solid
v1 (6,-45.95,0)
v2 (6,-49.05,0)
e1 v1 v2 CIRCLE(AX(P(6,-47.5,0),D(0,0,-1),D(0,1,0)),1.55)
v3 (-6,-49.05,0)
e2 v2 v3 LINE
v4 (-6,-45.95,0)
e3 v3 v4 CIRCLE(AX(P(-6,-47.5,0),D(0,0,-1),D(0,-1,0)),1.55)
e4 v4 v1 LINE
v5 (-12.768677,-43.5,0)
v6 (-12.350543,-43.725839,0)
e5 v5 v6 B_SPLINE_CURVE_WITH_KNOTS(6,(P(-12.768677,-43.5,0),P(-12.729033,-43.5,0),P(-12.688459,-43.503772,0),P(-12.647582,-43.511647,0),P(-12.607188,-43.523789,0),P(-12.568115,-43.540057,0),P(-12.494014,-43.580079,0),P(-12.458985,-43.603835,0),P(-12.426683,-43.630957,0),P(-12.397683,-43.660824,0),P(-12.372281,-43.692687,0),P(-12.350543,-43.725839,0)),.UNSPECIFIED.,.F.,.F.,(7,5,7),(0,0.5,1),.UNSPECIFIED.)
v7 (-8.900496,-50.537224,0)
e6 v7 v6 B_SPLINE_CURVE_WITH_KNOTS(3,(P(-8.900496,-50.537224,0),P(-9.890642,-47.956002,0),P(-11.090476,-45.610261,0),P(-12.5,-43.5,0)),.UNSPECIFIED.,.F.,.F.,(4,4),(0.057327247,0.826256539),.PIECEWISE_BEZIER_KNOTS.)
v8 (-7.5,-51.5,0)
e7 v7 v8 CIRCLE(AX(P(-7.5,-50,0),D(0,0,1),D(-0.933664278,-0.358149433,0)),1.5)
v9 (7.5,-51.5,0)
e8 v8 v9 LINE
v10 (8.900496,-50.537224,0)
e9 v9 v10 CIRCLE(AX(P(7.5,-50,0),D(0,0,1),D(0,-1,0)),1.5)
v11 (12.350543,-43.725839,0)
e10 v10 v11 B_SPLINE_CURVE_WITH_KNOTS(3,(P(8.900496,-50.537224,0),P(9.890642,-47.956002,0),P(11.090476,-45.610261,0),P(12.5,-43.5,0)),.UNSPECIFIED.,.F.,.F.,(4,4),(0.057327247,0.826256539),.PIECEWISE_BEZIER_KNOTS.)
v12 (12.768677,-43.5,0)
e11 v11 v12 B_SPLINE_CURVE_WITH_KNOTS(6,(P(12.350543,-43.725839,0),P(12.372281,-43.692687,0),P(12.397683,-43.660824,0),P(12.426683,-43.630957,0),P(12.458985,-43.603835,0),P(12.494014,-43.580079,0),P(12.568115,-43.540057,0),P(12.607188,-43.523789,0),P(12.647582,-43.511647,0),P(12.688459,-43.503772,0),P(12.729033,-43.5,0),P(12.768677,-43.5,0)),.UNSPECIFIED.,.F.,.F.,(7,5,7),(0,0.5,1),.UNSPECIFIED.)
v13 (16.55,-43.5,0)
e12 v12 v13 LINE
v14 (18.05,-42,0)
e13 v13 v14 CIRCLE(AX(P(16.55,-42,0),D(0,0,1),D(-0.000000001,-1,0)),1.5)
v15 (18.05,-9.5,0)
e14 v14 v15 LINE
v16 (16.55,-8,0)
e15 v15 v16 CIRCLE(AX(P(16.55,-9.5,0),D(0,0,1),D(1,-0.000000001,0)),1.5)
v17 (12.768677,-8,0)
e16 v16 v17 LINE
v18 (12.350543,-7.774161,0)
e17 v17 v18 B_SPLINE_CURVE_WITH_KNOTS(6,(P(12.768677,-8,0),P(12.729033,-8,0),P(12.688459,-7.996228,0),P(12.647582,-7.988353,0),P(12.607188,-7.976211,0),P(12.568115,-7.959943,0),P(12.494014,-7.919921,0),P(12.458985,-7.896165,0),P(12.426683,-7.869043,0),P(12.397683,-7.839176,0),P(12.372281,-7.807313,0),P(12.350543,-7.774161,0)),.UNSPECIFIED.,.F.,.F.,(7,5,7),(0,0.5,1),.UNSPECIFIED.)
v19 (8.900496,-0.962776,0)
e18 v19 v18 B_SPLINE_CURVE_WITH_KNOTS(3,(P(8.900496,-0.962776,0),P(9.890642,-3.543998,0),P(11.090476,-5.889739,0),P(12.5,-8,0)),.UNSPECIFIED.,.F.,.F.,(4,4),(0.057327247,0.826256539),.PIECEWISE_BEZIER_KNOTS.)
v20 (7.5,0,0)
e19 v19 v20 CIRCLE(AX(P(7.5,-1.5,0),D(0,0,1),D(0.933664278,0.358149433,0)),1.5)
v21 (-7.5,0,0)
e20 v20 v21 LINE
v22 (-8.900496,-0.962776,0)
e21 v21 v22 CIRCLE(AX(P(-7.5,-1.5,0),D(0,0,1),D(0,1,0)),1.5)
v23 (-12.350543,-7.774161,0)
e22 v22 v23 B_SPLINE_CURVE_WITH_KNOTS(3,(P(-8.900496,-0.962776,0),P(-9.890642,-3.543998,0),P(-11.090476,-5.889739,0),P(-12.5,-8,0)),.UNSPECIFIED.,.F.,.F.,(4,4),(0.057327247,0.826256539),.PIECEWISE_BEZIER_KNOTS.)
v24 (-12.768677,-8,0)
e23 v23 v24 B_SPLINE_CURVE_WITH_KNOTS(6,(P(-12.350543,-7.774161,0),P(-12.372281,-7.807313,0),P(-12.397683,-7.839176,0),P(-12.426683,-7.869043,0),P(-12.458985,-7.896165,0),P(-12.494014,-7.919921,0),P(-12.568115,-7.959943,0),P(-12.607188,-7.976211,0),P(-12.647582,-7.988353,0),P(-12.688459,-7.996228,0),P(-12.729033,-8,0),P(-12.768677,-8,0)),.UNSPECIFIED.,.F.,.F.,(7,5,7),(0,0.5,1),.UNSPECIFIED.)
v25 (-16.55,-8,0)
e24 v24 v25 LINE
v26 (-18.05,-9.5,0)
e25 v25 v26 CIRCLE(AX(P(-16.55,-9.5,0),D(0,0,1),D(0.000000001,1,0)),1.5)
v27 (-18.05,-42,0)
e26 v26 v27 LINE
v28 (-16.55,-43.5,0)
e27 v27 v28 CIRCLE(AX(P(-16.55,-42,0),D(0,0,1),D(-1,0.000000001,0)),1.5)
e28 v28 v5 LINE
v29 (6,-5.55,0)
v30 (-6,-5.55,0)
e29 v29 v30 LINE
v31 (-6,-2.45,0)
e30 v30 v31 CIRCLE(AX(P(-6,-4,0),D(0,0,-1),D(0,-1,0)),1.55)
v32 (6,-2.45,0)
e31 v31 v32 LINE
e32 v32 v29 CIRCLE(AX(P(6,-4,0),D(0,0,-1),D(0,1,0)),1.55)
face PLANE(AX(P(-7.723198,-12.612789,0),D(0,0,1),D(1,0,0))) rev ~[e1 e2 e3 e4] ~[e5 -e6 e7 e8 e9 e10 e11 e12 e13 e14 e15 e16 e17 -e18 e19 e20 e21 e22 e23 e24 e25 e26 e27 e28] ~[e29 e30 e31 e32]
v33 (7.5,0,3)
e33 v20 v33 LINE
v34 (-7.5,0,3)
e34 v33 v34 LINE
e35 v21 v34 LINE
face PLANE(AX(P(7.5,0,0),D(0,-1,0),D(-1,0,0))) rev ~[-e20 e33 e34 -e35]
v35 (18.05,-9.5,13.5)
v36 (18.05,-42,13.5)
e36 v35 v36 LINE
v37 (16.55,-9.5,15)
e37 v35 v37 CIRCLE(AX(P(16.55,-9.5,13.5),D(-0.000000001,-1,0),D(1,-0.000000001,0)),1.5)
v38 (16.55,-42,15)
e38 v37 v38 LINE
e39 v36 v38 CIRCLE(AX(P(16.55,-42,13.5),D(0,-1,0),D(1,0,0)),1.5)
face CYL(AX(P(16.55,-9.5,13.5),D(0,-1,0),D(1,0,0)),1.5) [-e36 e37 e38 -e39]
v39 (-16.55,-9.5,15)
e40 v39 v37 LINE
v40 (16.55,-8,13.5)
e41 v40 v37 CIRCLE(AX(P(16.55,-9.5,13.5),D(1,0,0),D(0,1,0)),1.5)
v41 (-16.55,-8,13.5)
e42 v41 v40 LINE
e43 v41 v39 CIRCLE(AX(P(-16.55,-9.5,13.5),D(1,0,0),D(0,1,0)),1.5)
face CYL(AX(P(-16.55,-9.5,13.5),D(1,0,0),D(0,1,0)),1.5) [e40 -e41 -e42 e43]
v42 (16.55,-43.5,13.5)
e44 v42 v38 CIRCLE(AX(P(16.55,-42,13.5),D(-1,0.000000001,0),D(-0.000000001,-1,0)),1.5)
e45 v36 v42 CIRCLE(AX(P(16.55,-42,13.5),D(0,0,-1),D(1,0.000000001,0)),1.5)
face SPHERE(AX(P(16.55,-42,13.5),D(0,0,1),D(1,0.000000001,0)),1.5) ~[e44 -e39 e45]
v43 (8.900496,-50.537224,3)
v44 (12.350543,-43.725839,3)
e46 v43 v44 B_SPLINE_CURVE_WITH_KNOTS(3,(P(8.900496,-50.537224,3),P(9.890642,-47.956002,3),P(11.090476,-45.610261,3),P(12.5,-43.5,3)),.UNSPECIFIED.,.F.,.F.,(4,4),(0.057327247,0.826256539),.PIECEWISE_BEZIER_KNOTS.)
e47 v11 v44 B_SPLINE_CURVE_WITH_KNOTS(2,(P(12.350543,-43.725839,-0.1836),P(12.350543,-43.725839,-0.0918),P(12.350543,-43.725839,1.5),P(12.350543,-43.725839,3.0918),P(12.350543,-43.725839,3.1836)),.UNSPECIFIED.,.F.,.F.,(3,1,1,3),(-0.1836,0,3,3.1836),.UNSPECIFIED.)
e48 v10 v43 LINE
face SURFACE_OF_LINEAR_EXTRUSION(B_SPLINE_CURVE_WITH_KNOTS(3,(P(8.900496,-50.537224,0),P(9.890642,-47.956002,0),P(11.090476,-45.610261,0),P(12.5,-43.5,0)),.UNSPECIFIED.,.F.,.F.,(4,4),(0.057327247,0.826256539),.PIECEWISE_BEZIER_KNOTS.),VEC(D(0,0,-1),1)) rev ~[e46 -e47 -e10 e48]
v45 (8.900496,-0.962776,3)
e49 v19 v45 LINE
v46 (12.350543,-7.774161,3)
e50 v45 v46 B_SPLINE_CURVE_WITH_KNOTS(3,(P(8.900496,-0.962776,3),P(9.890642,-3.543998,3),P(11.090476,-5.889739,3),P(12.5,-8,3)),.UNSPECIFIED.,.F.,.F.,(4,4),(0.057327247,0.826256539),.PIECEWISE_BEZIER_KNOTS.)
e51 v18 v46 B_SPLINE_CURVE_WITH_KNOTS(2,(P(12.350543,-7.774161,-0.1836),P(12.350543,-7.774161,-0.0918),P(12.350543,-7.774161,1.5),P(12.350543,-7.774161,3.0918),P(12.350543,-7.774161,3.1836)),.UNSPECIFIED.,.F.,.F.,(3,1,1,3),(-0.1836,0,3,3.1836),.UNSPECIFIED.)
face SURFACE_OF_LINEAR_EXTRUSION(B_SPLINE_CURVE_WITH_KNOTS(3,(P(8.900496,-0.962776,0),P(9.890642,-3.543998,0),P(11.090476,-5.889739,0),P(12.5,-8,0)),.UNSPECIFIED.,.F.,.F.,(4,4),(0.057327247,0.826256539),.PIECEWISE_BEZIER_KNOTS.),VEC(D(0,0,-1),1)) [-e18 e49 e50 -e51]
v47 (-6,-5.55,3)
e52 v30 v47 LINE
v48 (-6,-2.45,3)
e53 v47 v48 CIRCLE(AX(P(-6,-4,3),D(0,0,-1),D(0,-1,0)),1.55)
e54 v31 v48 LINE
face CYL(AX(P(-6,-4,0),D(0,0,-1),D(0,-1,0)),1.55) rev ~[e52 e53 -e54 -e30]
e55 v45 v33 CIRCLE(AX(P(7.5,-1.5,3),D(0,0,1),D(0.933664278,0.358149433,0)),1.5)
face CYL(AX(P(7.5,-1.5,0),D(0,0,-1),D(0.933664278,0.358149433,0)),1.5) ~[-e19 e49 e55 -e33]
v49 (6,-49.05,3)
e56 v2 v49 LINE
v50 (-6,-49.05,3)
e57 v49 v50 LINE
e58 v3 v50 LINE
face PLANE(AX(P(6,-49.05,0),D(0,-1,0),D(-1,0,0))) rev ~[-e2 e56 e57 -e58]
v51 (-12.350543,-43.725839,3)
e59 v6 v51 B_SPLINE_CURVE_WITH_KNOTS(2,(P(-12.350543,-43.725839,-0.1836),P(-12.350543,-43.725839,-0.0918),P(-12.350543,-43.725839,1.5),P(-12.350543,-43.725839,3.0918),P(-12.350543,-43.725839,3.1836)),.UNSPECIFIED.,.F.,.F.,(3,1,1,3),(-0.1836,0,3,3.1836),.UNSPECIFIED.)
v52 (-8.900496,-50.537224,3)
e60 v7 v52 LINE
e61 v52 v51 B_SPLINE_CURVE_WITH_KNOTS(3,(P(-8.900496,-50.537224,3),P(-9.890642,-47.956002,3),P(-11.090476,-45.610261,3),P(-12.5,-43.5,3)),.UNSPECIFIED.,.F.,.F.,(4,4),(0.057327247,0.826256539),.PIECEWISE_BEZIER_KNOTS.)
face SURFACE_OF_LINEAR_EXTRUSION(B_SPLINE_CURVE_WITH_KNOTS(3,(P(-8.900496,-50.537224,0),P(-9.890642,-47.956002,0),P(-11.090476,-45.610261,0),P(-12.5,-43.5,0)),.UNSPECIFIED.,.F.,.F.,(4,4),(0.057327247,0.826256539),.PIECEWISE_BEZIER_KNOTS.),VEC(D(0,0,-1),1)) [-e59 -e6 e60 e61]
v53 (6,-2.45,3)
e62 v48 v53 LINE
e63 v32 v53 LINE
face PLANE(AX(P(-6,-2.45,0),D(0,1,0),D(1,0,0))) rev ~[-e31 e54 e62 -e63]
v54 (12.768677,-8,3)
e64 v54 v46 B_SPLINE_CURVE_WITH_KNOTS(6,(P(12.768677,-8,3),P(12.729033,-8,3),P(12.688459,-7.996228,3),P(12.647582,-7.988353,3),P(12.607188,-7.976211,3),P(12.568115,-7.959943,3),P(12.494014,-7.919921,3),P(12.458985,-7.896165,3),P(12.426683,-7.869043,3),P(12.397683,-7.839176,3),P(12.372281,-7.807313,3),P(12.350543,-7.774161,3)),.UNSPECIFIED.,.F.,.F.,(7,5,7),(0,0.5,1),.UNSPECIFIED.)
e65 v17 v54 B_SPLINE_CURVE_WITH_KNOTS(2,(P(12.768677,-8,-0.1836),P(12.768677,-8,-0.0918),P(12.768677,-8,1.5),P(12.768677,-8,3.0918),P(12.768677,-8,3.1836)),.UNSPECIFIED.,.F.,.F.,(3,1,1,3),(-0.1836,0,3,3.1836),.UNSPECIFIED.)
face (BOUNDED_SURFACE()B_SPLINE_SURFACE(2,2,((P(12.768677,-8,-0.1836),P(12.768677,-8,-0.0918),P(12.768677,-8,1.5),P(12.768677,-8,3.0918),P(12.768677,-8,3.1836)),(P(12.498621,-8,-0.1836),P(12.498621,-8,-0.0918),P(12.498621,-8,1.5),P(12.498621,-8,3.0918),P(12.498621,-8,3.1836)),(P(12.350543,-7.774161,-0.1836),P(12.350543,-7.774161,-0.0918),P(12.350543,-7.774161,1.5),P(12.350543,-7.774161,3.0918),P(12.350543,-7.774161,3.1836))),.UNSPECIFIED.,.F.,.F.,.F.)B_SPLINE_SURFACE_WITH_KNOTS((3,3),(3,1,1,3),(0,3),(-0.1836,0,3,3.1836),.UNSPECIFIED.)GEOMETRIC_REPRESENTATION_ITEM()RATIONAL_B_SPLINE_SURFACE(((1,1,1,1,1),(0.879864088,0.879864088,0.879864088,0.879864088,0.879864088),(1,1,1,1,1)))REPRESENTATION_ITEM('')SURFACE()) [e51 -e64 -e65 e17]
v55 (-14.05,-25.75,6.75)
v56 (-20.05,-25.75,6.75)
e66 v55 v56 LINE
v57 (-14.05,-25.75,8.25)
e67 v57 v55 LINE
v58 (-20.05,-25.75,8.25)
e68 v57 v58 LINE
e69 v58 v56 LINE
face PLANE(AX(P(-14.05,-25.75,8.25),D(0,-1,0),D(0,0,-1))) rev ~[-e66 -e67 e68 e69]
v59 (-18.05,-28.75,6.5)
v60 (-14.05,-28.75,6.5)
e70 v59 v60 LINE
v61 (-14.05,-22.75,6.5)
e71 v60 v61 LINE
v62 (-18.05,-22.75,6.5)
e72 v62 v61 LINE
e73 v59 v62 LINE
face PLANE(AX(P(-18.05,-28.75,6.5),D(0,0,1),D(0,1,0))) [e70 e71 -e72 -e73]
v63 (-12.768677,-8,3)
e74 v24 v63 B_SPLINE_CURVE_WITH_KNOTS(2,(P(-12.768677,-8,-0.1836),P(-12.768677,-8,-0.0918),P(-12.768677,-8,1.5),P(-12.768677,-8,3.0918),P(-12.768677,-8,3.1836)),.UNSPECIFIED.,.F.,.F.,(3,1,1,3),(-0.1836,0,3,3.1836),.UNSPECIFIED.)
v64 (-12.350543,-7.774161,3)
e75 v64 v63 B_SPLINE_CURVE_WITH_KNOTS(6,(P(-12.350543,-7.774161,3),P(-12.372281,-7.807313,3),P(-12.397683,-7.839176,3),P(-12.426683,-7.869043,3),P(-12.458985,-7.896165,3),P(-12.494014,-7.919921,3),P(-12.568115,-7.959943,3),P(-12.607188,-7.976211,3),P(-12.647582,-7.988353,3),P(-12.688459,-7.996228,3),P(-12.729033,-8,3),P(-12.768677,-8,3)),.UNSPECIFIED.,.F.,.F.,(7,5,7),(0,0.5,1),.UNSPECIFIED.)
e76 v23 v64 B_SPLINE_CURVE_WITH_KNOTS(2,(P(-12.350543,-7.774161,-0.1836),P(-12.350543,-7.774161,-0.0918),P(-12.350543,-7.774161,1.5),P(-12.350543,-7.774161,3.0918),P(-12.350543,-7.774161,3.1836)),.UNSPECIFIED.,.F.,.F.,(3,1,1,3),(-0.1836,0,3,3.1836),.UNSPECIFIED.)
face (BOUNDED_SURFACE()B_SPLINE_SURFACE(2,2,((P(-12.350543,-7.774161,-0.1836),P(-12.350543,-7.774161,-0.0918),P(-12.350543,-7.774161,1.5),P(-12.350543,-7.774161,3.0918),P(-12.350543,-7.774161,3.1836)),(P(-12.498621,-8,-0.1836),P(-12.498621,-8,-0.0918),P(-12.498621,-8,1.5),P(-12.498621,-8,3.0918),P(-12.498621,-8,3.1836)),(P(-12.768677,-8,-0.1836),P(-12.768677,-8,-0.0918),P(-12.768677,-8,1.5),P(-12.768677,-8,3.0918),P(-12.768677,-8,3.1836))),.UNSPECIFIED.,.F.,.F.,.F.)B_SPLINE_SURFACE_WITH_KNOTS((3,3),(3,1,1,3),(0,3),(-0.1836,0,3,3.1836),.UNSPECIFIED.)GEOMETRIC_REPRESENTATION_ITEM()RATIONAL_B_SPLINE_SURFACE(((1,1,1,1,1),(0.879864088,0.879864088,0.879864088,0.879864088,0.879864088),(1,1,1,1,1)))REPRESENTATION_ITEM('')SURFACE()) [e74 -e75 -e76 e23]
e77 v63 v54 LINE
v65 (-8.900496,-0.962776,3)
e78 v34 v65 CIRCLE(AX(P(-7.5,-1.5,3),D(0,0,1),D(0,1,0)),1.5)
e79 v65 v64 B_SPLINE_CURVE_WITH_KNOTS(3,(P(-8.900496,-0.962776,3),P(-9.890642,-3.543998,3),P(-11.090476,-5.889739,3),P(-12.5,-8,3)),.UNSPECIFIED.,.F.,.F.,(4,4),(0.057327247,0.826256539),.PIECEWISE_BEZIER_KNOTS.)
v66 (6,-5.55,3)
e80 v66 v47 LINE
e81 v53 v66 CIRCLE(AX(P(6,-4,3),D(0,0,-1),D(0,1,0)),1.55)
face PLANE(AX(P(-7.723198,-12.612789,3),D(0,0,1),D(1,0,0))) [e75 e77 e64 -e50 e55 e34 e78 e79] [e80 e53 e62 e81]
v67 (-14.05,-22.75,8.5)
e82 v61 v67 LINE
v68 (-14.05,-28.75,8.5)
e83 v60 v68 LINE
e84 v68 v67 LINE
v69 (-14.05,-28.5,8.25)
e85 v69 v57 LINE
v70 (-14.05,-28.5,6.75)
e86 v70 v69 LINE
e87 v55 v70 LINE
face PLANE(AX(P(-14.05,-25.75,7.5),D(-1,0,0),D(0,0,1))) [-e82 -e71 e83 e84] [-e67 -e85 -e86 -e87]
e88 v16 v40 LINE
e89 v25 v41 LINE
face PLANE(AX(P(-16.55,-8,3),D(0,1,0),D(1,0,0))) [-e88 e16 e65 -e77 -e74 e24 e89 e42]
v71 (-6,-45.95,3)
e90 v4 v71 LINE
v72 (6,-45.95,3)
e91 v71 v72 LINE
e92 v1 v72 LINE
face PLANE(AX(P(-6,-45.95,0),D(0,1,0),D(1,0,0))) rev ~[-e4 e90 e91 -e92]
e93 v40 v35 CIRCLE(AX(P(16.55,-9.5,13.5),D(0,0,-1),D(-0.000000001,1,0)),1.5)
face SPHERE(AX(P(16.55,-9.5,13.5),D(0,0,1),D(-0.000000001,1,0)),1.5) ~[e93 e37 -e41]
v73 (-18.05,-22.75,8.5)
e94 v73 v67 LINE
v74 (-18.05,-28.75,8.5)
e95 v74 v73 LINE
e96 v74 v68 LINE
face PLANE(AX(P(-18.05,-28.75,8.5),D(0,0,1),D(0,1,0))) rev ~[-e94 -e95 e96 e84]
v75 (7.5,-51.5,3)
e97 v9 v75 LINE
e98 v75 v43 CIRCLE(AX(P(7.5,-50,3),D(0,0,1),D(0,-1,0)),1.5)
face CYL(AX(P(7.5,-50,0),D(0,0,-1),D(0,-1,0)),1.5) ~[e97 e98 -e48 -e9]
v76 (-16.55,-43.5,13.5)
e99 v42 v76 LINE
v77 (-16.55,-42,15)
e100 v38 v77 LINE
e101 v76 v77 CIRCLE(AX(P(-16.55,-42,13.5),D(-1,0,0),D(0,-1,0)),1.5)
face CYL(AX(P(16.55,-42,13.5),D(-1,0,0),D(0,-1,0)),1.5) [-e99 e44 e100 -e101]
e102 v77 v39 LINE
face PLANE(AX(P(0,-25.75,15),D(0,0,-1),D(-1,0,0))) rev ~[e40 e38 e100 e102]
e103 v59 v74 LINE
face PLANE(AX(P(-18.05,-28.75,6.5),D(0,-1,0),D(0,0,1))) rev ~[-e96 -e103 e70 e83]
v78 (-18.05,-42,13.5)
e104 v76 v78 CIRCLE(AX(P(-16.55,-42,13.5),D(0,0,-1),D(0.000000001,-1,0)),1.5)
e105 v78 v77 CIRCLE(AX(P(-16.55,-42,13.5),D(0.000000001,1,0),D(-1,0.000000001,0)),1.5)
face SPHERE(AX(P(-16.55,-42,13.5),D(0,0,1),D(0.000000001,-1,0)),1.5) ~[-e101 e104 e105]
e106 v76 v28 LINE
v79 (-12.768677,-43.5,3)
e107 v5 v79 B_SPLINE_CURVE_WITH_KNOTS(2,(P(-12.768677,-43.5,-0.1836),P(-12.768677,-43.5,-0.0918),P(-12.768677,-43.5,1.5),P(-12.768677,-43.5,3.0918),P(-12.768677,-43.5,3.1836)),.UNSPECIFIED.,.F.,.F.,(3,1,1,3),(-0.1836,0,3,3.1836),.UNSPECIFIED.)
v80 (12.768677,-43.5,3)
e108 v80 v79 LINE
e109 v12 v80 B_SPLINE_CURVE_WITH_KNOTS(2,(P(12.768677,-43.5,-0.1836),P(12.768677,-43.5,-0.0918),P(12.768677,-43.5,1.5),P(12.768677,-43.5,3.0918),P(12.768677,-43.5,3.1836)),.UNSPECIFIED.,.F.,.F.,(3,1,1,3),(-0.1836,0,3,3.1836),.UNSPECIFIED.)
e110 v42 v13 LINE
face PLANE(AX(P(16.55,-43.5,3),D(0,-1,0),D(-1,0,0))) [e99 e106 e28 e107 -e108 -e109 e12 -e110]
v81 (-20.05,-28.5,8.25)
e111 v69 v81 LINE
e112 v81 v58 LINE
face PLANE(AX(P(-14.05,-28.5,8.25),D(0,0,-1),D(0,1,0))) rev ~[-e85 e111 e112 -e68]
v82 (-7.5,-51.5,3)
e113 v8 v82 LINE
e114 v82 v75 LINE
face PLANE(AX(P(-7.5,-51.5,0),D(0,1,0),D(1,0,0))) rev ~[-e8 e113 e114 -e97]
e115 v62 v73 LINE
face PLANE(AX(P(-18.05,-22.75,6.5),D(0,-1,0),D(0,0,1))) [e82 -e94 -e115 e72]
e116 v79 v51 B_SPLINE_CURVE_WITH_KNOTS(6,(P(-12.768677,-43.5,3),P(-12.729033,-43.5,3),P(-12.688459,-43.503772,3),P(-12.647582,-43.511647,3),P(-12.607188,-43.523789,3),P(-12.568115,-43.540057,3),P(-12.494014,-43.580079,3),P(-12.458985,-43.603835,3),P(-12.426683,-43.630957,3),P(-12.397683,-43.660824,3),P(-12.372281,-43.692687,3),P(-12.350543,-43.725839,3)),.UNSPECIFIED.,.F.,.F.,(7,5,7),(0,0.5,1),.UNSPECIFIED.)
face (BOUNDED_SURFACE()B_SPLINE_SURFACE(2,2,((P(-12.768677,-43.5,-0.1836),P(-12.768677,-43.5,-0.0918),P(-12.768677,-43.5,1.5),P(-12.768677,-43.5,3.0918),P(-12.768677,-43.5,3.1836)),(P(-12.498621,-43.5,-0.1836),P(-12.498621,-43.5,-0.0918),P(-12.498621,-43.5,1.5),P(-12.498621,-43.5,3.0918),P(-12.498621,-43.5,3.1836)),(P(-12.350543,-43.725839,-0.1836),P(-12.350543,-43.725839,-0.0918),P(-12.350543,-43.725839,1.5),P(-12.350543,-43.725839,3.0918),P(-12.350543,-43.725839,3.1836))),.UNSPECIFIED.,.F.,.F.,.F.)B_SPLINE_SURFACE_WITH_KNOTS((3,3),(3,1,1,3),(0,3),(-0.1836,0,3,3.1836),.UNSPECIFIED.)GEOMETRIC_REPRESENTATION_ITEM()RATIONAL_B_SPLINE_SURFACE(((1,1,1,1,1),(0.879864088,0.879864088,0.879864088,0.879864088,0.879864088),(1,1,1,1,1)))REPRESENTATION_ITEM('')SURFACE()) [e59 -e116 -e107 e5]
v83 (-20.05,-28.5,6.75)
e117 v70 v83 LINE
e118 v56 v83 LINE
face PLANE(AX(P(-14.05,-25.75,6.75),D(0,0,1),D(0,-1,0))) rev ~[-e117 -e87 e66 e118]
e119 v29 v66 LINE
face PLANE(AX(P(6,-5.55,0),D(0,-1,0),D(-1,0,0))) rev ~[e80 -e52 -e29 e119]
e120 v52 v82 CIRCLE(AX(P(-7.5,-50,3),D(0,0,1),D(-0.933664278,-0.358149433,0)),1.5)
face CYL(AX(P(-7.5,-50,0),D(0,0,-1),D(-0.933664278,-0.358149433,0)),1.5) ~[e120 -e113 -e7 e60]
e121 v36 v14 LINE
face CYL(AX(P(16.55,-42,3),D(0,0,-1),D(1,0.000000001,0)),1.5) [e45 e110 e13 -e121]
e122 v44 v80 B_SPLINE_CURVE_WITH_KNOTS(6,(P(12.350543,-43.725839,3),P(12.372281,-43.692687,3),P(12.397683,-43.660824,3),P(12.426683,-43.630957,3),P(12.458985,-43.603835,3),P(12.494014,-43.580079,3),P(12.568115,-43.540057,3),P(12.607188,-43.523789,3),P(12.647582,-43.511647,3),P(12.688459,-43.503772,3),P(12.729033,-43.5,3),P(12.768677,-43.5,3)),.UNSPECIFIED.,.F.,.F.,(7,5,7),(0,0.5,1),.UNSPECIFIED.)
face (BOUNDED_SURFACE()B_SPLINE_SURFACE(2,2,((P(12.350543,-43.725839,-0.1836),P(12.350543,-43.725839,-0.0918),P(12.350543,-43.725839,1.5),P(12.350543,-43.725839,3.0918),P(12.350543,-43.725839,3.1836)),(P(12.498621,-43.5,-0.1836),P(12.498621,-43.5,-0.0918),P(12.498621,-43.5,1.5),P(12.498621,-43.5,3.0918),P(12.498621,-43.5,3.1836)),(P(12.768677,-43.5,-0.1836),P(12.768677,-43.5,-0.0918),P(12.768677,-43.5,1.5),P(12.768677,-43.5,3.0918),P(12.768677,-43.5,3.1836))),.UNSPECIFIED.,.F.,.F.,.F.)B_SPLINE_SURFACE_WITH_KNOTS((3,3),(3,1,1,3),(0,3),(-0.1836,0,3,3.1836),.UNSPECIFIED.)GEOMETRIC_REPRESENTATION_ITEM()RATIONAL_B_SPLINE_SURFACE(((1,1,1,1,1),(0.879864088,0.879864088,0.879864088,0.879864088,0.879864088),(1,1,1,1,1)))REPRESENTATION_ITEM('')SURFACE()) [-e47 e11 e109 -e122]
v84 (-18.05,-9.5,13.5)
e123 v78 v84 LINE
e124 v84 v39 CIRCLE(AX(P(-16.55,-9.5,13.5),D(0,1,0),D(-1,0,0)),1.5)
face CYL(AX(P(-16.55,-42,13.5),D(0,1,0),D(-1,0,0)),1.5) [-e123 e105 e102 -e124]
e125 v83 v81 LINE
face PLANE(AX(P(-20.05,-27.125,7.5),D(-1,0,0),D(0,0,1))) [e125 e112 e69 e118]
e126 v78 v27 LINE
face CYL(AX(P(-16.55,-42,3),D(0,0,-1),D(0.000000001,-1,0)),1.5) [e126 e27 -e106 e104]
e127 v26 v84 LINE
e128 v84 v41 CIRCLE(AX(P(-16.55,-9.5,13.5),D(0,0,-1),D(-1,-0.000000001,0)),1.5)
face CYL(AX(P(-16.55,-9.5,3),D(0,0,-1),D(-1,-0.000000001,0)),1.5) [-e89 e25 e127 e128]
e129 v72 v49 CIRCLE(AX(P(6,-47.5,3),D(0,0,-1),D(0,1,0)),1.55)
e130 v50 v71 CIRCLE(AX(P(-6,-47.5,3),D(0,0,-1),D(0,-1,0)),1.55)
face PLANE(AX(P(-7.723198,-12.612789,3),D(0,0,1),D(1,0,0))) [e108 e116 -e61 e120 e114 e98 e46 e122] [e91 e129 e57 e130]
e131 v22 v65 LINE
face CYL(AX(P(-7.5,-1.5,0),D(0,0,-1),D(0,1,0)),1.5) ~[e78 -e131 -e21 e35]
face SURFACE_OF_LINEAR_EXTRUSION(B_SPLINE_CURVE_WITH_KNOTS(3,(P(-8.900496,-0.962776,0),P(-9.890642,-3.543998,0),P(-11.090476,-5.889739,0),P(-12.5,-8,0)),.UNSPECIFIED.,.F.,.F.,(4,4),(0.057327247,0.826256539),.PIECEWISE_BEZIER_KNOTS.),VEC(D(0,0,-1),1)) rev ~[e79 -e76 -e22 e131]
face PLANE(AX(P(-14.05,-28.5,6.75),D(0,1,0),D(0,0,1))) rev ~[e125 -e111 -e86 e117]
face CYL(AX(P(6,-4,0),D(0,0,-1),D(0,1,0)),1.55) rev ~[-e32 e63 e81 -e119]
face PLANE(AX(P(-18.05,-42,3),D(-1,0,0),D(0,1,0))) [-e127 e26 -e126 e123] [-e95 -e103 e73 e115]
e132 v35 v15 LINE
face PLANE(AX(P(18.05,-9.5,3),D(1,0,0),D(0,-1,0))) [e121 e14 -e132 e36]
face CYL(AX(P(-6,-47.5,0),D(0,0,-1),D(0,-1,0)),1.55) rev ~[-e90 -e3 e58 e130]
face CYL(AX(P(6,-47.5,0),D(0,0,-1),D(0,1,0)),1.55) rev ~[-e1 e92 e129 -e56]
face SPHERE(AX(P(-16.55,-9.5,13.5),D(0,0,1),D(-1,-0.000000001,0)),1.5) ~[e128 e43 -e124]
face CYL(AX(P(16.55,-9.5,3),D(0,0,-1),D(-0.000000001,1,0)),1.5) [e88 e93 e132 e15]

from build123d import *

# Parameters (mm, degrees)
EXTRUDE_1_DEPTH      = 3
FILLET_1_R           = 0.5
EXTRUDE_2_DEPTH      = 12
FILLET_2_R           = 1.5
CUT_EXTRUDE_1_DEPTH  = 4
EXTRUDE_3_DEPTH      = 2
EXTRUDE_3_DEPTH_BACK = 4


with BuildPart() as part:
    # 草图2 → 凸台-拉伸1 (new body)
    with BuildSketch(Plane.XY):
        with BuildLine():
            ThreePointArc((-7.5, 0), (-8.349754016, -0.263910152), (-8.900496416, -0.96277585))
            add(Edge.make_bspline(
                [(-8.900496416, -0.96277585), (-9.890641619, -3.543997872), (-11.090476147, -5.889739255), (-12.5, -8)],
                knots=[0.057327247, 0.057327247, 0.057327247, 0.057327247, 0.826256539, 0.826256539, 0.826256539, 0.826256539], degree=3))
            Line((-12.5, -8), (-16.55, -8))
            ThreePointArc((-16.55, -8), (-17.610660172, -8.439339828), (-18.05, -9.5))
            Line((-18.05, -9.5), (-18.05, -42))
            ThreePointArc((-18.05, -42), (-17.610660172, -43.060660172), (-16.55, -43.5))
            Line((-16.55, -43.5), (-12.5, -43.5))
            add(Edge.make_bspline(
                [(-8.900496416, -50.53722415), (-9.890641619, -47.956002128), (-11.090476147, -45.610260745), (-12.5, -43.5)],
                knots=[0.057327247, 0.057327247, 0.057327247, 0.057327247, 0.826256539, 0.826256539, 0.826256539, 0.826256539], degree=3))
            ThreePointArc((-8.900496416, -50.53722415), (-8.349754016, -51.236089848), (-7.5, -51.5))
            Line((-7.5, -51.5), (7.5, -51.5))
            ThreePointArc((7.5, -51.5), (8.349754016, -51.236089848), (8.900496416, -50.53722415))
            add(Edge.make_bspline(
                [(8.900496416, -50.53722415), (9.890641619, -47.956002128), (11.090476147, -45.610260745), (12.5, -43.5)],
                knots=[0.057327247, 0.057327247, 0.057327247, 0.057327247, 0.826256539, 0.826256539, 0.826256539, 0.826256539], degree=3))
            Line((12.5, -43.5), (16.55, -43.5))
            ThreePointArc((16.55, -43.5), (17.610660172, -43.060660172), (18.05, -42))
            Line((18.05, -42), (18.05, -9.5))
            ThreePointArc((18.05, -9.5), (17.610660172, -8.439339828), (16.55, -8))
            Line((16.55, -8), (12.5, -8))
            add(Edge.make_bspline(
                [(8.900496416, -0.96277585), (9.890641619, -3.543997872), (11.090476147, -5.889739255), (12.5, -8)],
                knots=[0.057327247, 0.057327247, 0.057327247, 0.057327247, 0.826256539, 0.826256539, 0.826256539, 0.826256539], degree=3))
            ThreePointArc((8.900496416, -0.96277585), (8.349754016, -0.263910152), (7.5, 0))
            Line((7.5, 0), (-7.5, 0))
        make_face()
        with BuildLine():
            Line((-6, -2.45), (6, -2.45))
            ThreePointArc((6, -2.45), (7.55, -4), (6, -5.55))
            Line((6, -5.55), (-6, -5.55))
            ThreePointArc((-6, -5.55), (-7.55, -4), (-6, -2.45))
        make_face(mode=Mode.SUBTRACT)
        with BuildLine():
            Line((-6, -45.95), (6, -45.95))
            ThreePointArc((6, -45.95), (7.55, -47.5), (6, -49.05))
            Line((6, -49.05), (-6, -49.05))
            ThreePointArc((-6, -49.05), (-7.55, -47.5), (-6, -45.95))
        make_face(mode=Mode.SUBTRACT)
    extrude(amount=EXTRUDE_1_DEPTH)

    # 圆角1
    fillet_1_edges = [part.edges().sort_by_distance(p)[0] for p in [
        (12.5, -43.5, 1.5),
        (-12.5, -43.5, 1.5),
        (-12.5, -8, 1.5),
        (12.5, -8, 1.5),
    ]]
    fillet(fillet_1_edges, radius=FILLET_1_R)

    # 草图3 → 凸台-拉伸2 (add)
    with BuildSketch(Plane.XY.offset(3)):
        with BuildLine():
            Line((0, -8), (16.55, -8))
            ThreePointArc((16.55, -8), (17.610660172, -8.439339828), (18.05, -9.5))
            Line((18.05, -9.5), (18.05, -42))
            ThreePointArc((18.05, -42), (17.610660172, -43.060660172), (16.55, -43.5))
            Line((16.55, -43.5), (14.659338555, -43.5))
            Line((14.659338555, -43.5), (-16.55, -43.5))
            ThreePointArc((-16.55, -43.5), (-17.610660172, -43.060660172), (-18.05, -42))
            Line((-18.05, -42), (-18.05, -25.75))
            Line((-18.05, -25.75), (-18.05, -9.5))
            ThreePointArc((-18.05, -9.5), (-17.610660172, -8.439339828), (-16.55, -8))
            Line((-16.55, -8), (0, -8))
        make_face()
    extrude(amount=EXTRUDE_2_DEPTH)

    # 圆角2
    fillet_2_edges = [part.edges().sort_by_distance(p)[0] for p in [
        (17.610660172, -8.439339828, 15),
        (18.05, -25.75, 15),
        (17.610660172, -43.060660172, 15),
        (0, -43.5, 15),
        (-17.610660172, -43.060660172, 15),
        (-18.05, -25.75, 15),
        (-17.610660172, -8.439339828, 15),
        (0, -8, 15),
    ]]
    fillet(fillet_2_edges, radius=FILLET_2_R)

    # 草图4 → 切除-拉伸1 (cut)
    with BuildSketch(Plane.ZY.offset(18.05)):
        Polygon((8.5, -28.75), (8.5, -25.75), (8.5, -22.75), (6.5, -22.75), (6.5, -28.75), align=None)
    extrude(amount=-CUT_EXTRUDE_1_DEPTH, mode=Mode.SUBTRACT)

    # 草图4<3> → 凸台-拉伸3 (add, two sides: drawn at the far end of the back side and taken through both)
    with BuildSketch(Plane.ZY.offset(18.05).offset(-EXTRUDE_3_DEPTH_BACK)):
        Polygon((8.25, -28.5), (8.25, -25.75), (7.5, -25.75), (6.75, -25.75), (6.75, -28.5), align=None)
    extrude(amount=EXTRUDE_3_DEPTH + EXTRUDE_3_DEPTH_BACK)


solid = part.part
